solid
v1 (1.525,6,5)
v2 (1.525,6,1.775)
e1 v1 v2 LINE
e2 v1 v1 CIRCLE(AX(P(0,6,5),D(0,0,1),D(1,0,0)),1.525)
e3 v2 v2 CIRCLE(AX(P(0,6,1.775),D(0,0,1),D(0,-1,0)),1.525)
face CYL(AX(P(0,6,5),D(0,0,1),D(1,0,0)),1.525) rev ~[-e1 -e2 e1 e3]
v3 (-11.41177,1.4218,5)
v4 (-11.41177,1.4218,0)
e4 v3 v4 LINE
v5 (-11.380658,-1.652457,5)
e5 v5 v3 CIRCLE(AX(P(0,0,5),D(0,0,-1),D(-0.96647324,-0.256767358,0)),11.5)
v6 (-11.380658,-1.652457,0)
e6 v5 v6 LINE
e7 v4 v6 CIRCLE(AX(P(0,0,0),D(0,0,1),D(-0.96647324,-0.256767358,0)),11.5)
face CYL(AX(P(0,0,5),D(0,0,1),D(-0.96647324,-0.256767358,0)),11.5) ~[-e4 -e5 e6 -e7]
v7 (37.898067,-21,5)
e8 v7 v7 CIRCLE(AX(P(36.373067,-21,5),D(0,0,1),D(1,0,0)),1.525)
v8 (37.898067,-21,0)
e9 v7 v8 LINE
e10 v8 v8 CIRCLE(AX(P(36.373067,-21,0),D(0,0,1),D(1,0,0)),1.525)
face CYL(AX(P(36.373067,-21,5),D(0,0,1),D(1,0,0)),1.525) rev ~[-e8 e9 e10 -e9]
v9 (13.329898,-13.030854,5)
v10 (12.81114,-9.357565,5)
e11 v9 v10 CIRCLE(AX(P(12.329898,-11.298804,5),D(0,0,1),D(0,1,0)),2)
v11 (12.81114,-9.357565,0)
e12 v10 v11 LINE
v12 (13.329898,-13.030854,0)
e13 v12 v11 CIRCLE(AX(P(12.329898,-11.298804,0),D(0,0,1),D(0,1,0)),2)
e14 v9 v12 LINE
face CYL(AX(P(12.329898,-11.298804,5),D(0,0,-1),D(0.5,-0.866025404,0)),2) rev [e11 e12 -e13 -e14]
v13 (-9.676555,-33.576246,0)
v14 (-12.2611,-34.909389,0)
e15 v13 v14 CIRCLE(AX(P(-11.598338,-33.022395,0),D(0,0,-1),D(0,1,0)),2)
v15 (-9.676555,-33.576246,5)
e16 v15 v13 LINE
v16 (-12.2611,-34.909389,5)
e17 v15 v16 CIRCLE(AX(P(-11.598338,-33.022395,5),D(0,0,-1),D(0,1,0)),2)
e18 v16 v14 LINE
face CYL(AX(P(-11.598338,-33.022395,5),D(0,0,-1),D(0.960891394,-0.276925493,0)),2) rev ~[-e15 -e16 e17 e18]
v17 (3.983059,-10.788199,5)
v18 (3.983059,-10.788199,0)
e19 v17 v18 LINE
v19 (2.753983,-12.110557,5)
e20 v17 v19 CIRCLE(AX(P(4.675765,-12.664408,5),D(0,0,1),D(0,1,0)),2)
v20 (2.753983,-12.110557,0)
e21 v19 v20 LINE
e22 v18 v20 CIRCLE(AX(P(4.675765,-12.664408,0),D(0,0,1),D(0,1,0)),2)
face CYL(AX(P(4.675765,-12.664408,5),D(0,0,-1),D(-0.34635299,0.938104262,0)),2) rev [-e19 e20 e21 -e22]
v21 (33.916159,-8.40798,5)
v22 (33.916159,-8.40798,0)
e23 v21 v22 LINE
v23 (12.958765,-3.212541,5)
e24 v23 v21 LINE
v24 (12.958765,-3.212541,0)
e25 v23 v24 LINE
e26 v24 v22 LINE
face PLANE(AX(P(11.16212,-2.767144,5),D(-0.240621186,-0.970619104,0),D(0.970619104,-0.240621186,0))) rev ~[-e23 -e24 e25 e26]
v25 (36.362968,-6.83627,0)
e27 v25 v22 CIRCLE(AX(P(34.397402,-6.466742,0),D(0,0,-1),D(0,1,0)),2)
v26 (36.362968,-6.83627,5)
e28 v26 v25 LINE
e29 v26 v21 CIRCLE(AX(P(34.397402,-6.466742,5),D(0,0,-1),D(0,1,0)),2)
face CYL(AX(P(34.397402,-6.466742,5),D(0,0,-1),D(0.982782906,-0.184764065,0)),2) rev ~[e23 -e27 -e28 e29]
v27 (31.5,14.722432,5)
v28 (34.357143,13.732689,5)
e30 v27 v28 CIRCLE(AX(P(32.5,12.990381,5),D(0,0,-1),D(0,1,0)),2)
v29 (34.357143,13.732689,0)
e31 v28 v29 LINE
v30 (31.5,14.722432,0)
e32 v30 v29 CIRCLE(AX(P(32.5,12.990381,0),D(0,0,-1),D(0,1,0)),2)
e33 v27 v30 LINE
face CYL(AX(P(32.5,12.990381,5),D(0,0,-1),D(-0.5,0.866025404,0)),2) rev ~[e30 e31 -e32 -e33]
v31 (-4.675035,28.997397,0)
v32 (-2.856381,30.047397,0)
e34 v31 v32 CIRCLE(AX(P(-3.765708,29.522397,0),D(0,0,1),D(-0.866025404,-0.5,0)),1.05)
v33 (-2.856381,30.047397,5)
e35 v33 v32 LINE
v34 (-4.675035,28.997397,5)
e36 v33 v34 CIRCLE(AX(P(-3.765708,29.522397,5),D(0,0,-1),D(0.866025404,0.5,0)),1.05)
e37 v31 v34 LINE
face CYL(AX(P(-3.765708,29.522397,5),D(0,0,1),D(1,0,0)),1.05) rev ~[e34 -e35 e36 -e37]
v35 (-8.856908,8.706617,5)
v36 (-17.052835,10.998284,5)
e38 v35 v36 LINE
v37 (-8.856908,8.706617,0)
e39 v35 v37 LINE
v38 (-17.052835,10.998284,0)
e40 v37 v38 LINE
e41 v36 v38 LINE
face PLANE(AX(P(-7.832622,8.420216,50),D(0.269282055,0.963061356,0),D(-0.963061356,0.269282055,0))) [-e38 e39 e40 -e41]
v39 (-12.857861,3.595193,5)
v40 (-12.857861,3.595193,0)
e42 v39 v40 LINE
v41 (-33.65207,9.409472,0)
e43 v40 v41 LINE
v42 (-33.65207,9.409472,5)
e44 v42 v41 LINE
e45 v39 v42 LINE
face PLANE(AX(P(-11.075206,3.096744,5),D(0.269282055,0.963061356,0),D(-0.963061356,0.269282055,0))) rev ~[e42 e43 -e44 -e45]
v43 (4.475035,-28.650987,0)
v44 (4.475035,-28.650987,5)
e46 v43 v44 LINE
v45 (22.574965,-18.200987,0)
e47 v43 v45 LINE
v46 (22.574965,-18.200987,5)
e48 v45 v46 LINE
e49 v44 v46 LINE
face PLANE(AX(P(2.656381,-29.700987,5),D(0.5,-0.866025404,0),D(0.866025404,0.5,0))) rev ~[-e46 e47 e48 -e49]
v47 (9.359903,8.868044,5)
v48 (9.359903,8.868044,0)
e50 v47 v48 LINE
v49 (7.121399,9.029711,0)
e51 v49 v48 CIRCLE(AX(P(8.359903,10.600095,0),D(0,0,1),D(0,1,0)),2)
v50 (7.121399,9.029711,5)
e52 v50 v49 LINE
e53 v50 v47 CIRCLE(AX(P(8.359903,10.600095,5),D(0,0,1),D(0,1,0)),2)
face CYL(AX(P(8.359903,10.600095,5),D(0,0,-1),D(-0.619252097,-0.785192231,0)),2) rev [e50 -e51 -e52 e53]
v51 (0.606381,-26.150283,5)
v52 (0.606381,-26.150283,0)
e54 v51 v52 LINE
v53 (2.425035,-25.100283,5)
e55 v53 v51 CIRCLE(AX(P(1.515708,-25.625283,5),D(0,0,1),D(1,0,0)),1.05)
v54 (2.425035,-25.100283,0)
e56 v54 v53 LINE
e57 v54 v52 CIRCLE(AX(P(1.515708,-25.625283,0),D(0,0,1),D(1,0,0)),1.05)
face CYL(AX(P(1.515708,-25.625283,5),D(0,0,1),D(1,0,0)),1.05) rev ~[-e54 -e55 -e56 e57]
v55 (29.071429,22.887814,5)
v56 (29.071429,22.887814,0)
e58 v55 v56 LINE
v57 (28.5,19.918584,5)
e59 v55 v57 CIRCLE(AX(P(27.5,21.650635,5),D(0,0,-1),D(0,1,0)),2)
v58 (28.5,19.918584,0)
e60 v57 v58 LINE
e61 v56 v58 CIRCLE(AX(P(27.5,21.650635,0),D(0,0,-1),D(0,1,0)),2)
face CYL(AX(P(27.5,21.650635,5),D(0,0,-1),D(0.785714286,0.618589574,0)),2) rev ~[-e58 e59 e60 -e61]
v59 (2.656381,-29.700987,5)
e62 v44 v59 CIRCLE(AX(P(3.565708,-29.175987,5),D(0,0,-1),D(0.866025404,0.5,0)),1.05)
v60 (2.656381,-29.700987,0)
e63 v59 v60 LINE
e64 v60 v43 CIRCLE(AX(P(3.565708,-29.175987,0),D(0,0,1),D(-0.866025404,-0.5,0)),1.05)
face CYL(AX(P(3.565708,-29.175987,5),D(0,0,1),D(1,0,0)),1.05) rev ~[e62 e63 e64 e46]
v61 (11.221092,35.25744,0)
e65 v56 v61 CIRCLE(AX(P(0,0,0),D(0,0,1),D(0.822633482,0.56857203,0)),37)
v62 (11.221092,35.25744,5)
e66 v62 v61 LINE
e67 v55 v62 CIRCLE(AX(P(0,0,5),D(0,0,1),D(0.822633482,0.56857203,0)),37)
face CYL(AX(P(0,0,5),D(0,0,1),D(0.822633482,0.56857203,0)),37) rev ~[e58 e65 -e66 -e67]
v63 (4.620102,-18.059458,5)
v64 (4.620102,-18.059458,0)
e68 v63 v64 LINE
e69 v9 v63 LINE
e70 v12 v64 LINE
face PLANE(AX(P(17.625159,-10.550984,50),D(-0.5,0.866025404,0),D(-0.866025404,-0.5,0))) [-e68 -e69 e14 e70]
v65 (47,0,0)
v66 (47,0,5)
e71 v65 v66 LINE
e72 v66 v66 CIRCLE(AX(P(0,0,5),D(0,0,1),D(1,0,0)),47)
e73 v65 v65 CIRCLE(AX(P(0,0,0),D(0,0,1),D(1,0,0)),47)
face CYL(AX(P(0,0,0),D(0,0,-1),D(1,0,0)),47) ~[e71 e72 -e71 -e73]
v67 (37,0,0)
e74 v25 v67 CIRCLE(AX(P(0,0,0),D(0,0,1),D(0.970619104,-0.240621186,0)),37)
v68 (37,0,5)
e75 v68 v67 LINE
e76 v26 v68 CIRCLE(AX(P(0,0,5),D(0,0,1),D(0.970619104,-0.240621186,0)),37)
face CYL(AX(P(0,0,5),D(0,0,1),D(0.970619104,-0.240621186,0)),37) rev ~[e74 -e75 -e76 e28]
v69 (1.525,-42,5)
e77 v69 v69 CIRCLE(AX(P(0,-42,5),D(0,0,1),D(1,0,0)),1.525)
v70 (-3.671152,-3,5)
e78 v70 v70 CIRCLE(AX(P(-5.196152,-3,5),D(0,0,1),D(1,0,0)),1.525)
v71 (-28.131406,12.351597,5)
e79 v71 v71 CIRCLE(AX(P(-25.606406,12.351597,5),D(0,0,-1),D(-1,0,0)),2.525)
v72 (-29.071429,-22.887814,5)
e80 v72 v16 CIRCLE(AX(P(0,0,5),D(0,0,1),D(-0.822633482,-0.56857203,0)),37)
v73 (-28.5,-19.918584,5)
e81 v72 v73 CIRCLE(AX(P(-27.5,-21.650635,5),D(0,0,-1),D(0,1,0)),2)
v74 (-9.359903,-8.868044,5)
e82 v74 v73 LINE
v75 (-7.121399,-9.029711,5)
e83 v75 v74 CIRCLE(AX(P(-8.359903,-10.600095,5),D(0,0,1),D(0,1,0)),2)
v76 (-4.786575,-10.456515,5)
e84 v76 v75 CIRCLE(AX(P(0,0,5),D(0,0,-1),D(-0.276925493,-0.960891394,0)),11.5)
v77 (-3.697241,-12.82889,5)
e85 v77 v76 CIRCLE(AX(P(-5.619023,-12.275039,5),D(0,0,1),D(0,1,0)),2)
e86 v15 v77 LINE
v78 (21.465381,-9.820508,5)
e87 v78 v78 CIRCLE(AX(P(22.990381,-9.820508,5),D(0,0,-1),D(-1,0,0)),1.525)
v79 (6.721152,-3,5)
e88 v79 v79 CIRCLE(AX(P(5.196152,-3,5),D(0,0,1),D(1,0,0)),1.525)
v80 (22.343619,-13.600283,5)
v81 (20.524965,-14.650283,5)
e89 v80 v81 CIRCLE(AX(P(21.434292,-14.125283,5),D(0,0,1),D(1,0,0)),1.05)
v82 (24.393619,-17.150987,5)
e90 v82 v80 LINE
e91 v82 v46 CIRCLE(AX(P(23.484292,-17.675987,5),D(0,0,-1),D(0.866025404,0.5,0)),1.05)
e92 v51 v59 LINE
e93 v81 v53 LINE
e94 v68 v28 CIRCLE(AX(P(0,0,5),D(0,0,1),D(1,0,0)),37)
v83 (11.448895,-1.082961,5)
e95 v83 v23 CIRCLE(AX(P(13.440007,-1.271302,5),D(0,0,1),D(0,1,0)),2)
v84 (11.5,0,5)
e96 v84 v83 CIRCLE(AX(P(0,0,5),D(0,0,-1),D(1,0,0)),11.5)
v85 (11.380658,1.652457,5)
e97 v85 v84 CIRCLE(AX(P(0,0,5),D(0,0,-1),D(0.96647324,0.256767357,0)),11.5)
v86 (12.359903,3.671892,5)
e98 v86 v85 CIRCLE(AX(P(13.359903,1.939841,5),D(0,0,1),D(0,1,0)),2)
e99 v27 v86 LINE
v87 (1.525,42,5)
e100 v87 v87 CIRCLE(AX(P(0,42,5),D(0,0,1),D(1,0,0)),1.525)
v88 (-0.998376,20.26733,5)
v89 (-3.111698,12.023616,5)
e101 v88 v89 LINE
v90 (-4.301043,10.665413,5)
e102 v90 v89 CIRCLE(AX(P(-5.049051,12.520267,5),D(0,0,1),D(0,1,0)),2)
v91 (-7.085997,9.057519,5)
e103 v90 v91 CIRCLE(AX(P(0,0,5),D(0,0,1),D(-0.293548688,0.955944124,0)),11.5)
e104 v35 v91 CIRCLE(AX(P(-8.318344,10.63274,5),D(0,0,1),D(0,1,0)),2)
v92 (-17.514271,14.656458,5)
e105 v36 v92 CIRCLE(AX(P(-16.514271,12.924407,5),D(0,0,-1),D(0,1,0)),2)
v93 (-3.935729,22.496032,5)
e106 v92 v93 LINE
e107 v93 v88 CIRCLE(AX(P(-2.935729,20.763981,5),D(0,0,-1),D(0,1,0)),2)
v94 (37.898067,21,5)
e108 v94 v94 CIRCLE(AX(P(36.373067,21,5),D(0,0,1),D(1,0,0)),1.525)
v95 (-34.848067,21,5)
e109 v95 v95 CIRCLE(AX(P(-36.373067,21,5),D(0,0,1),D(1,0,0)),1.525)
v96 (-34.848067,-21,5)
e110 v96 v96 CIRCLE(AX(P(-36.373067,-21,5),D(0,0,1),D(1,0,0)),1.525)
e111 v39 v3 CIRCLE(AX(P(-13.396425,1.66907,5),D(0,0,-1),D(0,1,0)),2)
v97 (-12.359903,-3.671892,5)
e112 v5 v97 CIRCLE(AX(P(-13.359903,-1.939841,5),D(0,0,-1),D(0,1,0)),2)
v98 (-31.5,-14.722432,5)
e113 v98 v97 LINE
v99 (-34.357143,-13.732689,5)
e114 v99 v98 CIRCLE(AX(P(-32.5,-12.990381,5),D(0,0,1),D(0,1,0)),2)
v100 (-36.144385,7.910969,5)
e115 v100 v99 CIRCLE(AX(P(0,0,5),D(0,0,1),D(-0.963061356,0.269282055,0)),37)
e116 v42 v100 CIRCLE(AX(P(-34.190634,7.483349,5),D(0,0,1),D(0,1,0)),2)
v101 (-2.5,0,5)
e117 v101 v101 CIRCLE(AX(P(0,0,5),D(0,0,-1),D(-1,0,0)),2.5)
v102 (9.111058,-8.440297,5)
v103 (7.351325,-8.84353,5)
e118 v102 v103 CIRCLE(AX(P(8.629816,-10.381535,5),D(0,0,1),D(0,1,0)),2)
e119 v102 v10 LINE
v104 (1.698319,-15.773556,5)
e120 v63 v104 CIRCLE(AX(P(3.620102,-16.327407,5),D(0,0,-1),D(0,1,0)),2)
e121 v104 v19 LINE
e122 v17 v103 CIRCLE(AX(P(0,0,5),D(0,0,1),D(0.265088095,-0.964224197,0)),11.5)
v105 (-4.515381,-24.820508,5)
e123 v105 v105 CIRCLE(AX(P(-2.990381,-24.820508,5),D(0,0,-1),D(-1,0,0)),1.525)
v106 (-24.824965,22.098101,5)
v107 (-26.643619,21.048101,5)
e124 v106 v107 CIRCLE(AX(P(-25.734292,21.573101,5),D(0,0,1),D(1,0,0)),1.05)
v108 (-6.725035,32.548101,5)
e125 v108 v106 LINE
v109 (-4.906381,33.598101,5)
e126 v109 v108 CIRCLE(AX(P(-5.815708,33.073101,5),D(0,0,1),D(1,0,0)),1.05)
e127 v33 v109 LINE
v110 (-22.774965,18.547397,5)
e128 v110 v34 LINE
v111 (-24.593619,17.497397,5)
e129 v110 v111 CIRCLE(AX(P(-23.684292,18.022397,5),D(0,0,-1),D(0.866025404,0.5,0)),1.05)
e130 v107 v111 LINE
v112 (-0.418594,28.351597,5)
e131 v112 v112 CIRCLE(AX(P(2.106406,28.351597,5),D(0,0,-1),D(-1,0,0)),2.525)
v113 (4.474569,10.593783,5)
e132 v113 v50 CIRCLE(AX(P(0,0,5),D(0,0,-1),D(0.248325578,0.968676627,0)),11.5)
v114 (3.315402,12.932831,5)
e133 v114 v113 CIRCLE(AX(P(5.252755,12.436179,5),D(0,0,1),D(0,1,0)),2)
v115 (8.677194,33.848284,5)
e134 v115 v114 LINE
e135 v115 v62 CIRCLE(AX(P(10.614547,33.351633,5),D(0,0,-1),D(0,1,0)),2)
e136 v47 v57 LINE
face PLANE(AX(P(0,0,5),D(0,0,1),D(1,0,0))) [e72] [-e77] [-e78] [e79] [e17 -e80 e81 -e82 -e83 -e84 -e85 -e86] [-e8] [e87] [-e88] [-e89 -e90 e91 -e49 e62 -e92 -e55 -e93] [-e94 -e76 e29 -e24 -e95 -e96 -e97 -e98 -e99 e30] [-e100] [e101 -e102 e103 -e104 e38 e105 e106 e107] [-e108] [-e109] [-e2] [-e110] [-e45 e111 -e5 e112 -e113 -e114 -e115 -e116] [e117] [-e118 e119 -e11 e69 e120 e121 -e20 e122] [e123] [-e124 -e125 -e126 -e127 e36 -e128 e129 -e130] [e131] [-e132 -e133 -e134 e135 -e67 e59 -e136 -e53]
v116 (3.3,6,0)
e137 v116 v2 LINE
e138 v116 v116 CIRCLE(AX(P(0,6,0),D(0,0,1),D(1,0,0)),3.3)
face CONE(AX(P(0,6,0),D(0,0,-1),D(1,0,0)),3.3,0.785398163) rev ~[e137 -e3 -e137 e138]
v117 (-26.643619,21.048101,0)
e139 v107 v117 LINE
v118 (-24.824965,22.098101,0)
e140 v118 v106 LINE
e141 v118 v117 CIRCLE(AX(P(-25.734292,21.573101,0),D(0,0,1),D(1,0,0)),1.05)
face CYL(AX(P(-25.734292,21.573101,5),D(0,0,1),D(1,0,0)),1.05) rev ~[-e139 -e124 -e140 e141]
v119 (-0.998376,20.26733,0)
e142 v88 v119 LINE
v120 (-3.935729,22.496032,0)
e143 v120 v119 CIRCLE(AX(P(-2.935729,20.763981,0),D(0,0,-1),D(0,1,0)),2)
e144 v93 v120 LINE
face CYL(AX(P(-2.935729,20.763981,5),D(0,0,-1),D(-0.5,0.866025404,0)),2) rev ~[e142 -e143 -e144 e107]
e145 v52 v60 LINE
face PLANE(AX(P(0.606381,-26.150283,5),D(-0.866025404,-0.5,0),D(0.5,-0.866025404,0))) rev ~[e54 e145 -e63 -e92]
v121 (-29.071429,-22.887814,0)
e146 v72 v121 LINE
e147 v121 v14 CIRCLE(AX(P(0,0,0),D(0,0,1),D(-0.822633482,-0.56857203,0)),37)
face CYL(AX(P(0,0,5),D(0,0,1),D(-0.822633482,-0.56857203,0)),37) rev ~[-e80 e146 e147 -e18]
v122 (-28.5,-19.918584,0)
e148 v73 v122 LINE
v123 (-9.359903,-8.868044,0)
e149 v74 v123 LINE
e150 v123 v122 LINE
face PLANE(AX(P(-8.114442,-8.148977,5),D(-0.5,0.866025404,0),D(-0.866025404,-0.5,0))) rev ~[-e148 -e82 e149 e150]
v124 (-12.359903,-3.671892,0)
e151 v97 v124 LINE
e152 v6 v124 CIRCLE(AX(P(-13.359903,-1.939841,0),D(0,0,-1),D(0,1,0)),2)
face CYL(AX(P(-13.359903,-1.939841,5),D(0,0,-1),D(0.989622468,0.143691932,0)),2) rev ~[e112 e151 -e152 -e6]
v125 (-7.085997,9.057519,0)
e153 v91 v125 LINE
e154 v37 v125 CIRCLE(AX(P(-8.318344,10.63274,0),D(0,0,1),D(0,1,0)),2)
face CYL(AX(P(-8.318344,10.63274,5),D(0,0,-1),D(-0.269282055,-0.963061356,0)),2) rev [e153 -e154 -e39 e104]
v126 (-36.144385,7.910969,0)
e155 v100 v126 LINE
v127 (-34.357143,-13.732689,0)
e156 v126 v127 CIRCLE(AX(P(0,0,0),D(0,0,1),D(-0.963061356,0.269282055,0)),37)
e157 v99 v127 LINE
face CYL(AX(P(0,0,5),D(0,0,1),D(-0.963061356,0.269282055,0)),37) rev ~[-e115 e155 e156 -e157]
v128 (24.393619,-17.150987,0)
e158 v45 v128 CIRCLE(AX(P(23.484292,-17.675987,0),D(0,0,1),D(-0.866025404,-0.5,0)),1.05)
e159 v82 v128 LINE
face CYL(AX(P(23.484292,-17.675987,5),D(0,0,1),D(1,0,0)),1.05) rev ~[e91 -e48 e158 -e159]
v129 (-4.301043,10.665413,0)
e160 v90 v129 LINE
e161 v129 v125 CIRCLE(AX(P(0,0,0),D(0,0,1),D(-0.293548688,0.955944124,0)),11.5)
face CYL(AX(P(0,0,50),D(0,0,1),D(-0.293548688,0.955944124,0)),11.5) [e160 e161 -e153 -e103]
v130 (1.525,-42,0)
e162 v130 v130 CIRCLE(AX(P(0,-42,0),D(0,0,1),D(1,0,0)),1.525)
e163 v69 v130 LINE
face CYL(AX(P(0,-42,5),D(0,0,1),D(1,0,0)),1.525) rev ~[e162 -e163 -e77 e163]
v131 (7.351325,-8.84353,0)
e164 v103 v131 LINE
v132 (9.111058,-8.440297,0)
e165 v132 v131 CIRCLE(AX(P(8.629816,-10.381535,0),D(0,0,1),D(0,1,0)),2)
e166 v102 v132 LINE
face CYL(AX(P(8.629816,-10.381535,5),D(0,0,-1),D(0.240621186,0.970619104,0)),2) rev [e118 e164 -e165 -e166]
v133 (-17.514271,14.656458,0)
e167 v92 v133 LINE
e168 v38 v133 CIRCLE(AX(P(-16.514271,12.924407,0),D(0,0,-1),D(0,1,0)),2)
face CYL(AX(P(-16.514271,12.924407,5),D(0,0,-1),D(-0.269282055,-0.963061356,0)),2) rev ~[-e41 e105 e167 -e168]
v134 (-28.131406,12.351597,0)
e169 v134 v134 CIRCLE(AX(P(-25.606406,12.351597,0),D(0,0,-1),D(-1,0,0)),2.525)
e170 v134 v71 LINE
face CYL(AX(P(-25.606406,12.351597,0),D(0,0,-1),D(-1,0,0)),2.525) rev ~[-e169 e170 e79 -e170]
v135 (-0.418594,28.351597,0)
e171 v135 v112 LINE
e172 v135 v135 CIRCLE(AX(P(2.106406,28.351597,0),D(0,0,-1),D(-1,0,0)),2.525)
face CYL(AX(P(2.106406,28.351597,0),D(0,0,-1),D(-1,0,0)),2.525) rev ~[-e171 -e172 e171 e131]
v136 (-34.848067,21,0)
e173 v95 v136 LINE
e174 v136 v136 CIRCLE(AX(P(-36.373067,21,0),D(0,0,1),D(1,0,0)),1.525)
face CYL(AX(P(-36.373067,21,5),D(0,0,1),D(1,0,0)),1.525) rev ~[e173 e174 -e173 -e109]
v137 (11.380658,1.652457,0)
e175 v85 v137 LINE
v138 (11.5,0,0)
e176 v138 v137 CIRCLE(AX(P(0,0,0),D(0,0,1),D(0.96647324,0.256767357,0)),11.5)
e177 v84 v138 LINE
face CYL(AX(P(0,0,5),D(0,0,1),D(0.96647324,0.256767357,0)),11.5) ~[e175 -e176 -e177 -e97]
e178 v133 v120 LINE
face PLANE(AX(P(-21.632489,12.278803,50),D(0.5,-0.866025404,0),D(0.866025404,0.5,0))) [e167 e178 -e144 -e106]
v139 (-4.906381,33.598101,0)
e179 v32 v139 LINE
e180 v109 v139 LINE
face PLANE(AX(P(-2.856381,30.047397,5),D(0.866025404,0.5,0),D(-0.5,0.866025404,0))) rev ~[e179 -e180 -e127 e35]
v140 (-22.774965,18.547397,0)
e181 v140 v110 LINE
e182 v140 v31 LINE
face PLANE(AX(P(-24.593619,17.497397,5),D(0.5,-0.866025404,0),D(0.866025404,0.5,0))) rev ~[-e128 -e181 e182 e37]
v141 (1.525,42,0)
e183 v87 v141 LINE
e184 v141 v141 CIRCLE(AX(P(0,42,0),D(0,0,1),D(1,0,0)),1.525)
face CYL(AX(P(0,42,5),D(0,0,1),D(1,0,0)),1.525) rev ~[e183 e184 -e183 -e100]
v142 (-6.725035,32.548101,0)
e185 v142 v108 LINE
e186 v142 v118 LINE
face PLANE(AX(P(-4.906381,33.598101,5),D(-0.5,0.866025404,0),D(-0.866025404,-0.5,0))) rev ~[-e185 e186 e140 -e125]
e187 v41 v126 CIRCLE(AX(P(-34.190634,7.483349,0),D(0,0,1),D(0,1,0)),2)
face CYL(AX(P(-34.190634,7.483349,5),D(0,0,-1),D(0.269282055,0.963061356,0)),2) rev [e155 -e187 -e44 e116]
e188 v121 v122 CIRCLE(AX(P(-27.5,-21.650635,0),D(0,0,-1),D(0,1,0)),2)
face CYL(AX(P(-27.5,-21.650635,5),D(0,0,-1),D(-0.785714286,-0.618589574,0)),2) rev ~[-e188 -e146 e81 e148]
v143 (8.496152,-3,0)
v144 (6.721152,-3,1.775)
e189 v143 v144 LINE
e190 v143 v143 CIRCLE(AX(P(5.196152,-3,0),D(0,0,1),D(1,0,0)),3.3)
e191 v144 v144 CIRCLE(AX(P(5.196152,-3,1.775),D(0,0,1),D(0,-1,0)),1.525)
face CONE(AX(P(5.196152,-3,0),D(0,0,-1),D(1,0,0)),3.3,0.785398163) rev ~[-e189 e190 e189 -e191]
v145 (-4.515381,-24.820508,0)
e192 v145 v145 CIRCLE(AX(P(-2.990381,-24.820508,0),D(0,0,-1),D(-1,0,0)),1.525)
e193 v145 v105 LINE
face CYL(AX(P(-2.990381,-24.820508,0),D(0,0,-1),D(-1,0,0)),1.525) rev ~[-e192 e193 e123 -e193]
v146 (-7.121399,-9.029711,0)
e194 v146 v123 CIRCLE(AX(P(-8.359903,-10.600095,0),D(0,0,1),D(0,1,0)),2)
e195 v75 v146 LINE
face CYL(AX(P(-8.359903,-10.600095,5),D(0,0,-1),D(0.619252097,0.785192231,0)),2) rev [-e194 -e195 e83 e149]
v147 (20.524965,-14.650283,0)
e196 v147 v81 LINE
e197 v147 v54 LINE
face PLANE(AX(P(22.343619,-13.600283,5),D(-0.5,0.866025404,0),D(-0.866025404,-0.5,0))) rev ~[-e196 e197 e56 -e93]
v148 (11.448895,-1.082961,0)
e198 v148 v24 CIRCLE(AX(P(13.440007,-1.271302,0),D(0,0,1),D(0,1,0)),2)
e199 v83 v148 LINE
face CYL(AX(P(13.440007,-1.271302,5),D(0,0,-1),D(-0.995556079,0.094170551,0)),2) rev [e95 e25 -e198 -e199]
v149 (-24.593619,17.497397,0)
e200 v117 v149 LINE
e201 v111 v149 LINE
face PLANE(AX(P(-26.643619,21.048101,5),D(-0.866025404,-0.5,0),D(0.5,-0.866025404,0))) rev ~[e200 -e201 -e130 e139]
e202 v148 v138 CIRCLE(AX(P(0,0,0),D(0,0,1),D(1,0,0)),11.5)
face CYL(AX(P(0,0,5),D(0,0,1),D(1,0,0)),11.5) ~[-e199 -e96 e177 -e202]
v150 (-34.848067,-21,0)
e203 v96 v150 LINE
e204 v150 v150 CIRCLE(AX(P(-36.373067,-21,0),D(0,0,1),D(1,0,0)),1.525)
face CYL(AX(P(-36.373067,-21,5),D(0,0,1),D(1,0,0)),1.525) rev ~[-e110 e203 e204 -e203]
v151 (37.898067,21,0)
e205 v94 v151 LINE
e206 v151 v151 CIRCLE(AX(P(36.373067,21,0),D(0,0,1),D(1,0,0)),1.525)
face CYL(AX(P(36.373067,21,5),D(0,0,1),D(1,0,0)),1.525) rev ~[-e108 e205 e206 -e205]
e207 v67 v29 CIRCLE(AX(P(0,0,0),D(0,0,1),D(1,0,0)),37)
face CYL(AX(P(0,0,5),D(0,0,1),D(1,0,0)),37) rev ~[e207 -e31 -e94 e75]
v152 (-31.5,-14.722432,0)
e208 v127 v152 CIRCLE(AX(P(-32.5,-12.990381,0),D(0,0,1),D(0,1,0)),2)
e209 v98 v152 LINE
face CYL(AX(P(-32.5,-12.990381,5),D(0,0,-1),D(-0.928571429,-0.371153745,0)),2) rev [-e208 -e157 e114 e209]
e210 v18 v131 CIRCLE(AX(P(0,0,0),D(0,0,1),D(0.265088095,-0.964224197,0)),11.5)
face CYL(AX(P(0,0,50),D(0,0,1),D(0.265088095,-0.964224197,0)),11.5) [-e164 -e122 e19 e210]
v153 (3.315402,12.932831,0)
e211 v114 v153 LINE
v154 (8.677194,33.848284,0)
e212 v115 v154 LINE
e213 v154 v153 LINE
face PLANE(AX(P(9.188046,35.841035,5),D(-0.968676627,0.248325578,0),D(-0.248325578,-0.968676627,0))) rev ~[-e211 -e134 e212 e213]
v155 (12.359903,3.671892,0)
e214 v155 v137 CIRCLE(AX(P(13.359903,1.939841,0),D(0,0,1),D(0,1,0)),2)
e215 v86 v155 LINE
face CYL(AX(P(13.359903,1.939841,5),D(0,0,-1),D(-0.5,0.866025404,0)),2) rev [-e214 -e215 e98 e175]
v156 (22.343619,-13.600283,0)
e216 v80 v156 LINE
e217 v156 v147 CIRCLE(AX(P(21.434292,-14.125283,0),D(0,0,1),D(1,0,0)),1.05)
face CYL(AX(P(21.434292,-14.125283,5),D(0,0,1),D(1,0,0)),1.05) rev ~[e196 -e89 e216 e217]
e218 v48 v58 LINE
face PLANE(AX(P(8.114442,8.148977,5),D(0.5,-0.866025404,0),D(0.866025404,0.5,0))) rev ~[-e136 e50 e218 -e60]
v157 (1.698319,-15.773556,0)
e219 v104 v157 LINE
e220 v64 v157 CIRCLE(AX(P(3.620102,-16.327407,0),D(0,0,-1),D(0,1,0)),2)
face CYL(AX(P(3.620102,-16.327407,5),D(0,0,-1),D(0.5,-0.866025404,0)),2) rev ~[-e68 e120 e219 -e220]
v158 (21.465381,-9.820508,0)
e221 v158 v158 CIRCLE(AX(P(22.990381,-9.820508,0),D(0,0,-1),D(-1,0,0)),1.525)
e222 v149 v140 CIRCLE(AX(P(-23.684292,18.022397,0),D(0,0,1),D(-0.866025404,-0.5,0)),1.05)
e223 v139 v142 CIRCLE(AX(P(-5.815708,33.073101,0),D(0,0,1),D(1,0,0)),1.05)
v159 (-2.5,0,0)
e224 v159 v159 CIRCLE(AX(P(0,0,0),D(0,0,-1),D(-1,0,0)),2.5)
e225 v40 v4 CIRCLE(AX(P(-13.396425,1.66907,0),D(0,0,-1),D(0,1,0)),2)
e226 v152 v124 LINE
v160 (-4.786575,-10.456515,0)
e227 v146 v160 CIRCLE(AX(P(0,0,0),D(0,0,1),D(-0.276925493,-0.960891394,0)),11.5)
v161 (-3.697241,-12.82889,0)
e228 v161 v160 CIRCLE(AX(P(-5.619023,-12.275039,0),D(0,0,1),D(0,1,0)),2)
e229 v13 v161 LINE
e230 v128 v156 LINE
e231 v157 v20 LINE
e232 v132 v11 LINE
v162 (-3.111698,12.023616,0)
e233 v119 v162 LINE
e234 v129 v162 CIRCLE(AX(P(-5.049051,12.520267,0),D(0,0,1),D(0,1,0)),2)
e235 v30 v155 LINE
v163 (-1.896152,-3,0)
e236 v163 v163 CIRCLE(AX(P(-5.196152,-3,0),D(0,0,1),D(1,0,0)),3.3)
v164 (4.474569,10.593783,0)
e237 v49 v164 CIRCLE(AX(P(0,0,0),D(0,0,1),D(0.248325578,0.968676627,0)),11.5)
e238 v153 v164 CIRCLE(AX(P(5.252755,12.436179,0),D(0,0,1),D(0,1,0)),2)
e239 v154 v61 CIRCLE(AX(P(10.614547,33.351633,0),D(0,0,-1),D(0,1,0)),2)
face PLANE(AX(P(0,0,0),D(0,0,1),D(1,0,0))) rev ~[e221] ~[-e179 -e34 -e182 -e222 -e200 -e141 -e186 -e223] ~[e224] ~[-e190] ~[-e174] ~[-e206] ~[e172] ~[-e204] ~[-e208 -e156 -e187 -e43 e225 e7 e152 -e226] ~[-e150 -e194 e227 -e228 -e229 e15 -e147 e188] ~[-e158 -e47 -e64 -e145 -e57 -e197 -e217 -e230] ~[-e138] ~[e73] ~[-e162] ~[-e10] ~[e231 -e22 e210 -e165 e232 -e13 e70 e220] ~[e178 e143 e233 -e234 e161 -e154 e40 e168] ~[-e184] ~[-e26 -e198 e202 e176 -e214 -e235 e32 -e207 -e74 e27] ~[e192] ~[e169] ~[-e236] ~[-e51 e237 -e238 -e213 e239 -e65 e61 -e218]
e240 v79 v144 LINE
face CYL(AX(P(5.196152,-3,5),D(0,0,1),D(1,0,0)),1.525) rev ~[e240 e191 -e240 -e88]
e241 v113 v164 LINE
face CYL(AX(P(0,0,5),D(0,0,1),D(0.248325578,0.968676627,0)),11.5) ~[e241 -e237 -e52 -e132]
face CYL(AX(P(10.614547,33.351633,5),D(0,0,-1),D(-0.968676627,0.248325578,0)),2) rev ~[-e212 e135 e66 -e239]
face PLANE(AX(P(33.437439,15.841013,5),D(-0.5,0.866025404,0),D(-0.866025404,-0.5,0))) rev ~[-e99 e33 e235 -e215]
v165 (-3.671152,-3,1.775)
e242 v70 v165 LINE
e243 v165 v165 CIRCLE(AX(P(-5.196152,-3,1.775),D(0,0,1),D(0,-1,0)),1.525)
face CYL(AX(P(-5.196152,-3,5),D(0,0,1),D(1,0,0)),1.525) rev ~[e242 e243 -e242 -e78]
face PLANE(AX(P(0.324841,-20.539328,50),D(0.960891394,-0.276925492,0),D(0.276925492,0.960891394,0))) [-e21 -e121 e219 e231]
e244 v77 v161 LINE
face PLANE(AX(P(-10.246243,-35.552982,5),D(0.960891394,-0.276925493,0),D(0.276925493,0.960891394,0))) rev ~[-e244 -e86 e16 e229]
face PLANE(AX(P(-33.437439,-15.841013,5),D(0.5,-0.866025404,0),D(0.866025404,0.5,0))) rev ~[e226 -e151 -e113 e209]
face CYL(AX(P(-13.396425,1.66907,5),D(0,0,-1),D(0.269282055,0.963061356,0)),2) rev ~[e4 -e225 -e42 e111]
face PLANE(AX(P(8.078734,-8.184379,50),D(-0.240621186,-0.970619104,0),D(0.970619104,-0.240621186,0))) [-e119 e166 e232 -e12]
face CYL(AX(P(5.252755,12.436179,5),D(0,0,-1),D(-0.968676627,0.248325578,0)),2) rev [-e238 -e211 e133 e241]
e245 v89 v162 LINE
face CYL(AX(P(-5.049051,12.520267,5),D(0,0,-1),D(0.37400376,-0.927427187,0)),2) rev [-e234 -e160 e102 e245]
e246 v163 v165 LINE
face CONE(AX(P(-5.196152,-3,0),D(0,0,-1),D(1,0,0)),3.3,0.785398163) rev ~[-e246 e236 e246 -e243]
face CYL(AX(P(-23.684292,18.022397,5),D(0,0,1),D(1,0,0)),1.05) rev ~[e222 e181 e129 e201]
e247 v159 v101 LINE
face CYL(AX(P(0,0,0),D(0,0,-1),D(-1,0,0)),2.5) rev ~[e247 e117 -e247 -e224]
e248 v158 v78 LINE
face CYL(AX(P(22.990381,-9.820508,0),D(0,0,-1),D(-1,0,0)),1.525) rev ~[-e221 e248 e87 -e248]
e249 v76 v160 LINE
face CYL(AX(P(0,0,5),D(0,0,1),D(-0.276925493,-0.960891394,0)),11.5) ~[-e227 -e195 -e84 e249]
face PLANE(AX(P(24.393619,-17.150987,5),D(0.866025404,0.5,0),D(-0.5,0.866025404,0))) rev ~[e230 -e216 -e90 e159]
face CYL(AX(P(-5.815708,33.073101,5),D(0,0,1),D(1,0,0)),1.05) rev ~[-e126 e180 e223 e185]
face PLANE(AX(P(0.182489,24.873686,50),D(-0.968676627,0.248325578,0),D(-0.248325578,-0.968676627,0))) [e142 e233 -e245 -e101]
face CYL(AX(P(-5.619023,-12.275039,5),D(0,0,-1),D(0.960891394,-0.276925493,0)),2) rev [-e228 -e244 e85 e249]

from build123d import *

# Parameters (mm, degrees)
SKETCH_1_R                   = 47
EXTRUDE_1_DEPTH              = 5
SKETCH_2_R                   = 1.525
CUT_EXTRUDE_1_DEPTH          = 25
CUT_EXTRUDE_3_DEPTH          = 10
SKETCH_5_R                   = 1.05
CUT_EXTRUDE_4_DEPTH          = 40
CUT_EXTRUDE_7_DEPTH          = 10
SKETCH_8_R                   = 1.05
CUT_EXTRUDE_8_DEPTH          = 10
SKETCH_11_R                  = 1.525
CUT_EXTRUDE_9_DEPTH          = 10
SKETCH_12_R                  = 1.525
SKETCH_12_R_2                = 2.525
CUT_EXTRUDE_10_DEPTH         = 6.5
SKETCH_13_R                  = 2.5
CUT_EXTRUDE_11_DEPTH         = 50
CUT_EXTRUDE_13_DEPTH         = 50
HOLE_WIZARD_M3_1_D           = 3
HOLE_WIZARD_M3_1_CSINK_D     = 6.6
HOLE_WIZARD_M3_1_CSINK_ANGLE = 90
CUT_EXTRUDE_START            = -50
CUT_EXTRUDE_14_DEPTH         = 50
CUT_EXTRUDE_15_DEPTH         = 50
FILLET_1_R                   = 2


with BuildPart() as part:
    # 草图1 → 凸台-拉伸1 (new body)
    with BuildSketch(Plane.XY):
        Circle(SKETCH_1_R)
    extrude(amount=EXTRUDE_1_DEPTH)

    # 草图2 → 切除-拉伸1 (cut)
    with BuildSketch(Plane.XY.offset(5)):
        with Locations((0, 42)):
            Circle(SKETCH_2_R)
        with Locations((36.373066959, 21)):
            Circle(SKETCH_2_R)
        with Locations((36.373066959, -21)):
            Circle(SKETCH_2_R)
        with Locations((0, -42)):
            Circle(SKETCH_2_R)
        with Locations((-36.373066959, -21)):
            Circle(SKETCH_2_R)
        with Locations((-36.373066959, 21)):
            Circle(SKETCH_2_R)
    extrude(amount=-CUT_EXTRUDE_1_DEPTH, mode=Mode.SUBTRACT)

    # 草图4 → 切除-拉伸3 (cut)
    with BuildSketch(Plane.XY.offset(5)):
        Polygon((22.343618817, -13.600283017), (0.606381183, -26.150283017), (2.656381183, -29.700987172), (24.393618817, -17.150987172), align=None)
    extrude(amount=-CUT_EXTRUDE_3_DEPTH, mode=Mode.SUBTRACT)

    # 草图5 → 切除-拉伸4 (cut)
    with BuildSketch(Plane.XY.offset(5)):
        with Locations((21.434292144, -14.125283017)):
            Circle(SKETCH_5_R)
        with Locations((23.484292144, -17.675987172)):
            Circle(SKETCH_5_R)
        with Locations((1.515707856, -25.625283017)):
            Circle(SKETCH_5_R)
        with Locations((3.565707856, -29.175987172)):
            Circle(SKETCH_5_R)
    extrude(amount=-CUT_EXTRUDE_4_DEPTH, mode=Mode.SUBTRACT)

    # 草图7 → 切除-拉伸7 (cut)
    with BuildSketch(Plane.XY.offset(5)):
        Polygon((-4.906381183, 33.598101489), (-26.643618817, 21.048101489), (-24.593618817, 17.497397334), (-2.856381183, 30.047397334), align=None)
    extrude(amount=-CUT_EXTRUDE_7_DEPTH, mode=Mode.SUBTRACT)

    # 草图8 → 切除-拉伸8 (cut)
    with BuildSketch(Plane.XY.offset(5)):
        with Locations((-23.684292144, 18.022397334)):
            Circle(SKETCH_8_R)
        with Locations((-25.734292144, 21.573101489)):
            Circle(SKETCH_8_R)
        with Locations((-5.815707856, 33.073101489)):
            Circle(SKETCH_8_R)
        with Locations((-3.765707856, 29.522397334)):
            Circle(SKETCH_8_R)
    extrude(amount=-CUT_EXTRUDE_8_DEPTH, mode=Mode.SUBTRACT)

    # 草图11 → 切除-拉伸9 (cut)
    with BuildSketch(Plane.XY.offset(5)):
        with Locations((0, 6)):
            Circle(SKETCH_11_R)
        with Locations((5.196152423, -3)):
            Circle(SKETCH_11_R)
        with Locations((-5.196152423, -3)):
            Circle(SKETCH_11_R)
    extrude(amount=-CUT_EXTRUDE_9_DEPTH, mode=Mode.SUBTRACT)

    # 草图12 → 切除-拉伸10 (cut)
    with BuildSketch(Plane(origin=(0, 0, 0), x_dir=(-1, 0, 0), z_dir=(0, 0, -1))):
        with Locations((2.990381057, -24.820508076)):
            Circle(SKETCH_12_R)
        with Locations((-22.990381057, -9.820508076)):
            Circle(SKETCH_12_R)
        with Locations((-2.106406461, 28.351596989)):
            Circle(SKETCH_12_R_2)
        with Locations((25.606406461, 12.351596989)):
            Circle(SKETCH_12_R_2)
    extrude(amount=-CUT_EXTRUDE_10_DEPTH, mode=Mode.SUBTRACT)

    # 草图13 → 切除-拉伸11 (cut)
    with BuildSketch(Plane(origin=(0, 0, 0), x_dir=(-1, 0, 0), z_dir=(0, 0, -1))):
        Circle(SKETCH_13_R)
    extrude(amount=-CUT_EXTRUDE_11_DEPTH, mode=Mode.SUBTRACT)

    # 草图16 → 切除-拉伸13 (cut)
    with BuildSketch(Plane.XY.offset(5)):
        with BuildLine():
            Line((33.437438845, 15.841012703), (11.114442262, 2.952824616))
            ThreePointArc((11.114442262, 2.952824616), (11.40320319, 1.488944927), (11.5, 0))
            ThreePointArc((11.5, 0), (11.415217398, -1.393847822), (11.162119696, -2.767143635))
            Line((11.162119696, -2.767143635), (35.912906847, -8.90298387))
            ThreePointArc((35.912906847, -8.90298387), (36.727221195, -4.484553861), (37, 0))
            ThreePointArc((37, 0), (36.098374183, 8.11833612), (33.437438845, 15.841012703))
        make_face()
        with BuildLine():
            Line((9.18804638, 35.841035193), (2.855744145, 11.139781209))
            ThreePointArc((2.855744145, 11.139781209), (5.685285819, 9.996375601), (8.114442262, 8.148977039))
            Line((8.114442262, 8.148977039), (30.437438845, 21.037165126))
            ThreePointArc((30.437438845, 21.037165126), (21.150257967, 30.358962234), (9.18804638, 35.841035193))
        make_face()
        with BuildLine():
            ThreePointArc((-11.114442262, -2.952824616), (-11.499758126, 0.074585853), (-11.075205592, 3.096743628))
            Line((-11.075205592, 3.096743628), (-35.633270165, 9.96343602))
            ThreePointArc((-35.633270165, 9.96343602), (-36.866761511, -3.137179579), (-33.437438845, -15.841012703))
            Line((-33.437438845, -15.841012703), (-11.114442262, -2.952824616))
        make_face()
        with BuildLine():
            Line((-10.246243223, -35.552981588), (-3.184643164, -11.050251034))
            ThreePointArc((-3.184643164, -11.050251034), (-5.832810691, -9.911020101), (-8.114442262, -8.148977039))
            Line((-8.114442262, -8.148977039), (-30.437438845, -21.037165126))
            ThreePointArc((-30.437438845, -21.037165126), (-21.597863981, -30.042174879), (-10.246243223, -35.552981588))
        make_face()
    extrude(amount=-CUT_EXTRUDE_13_DEPTH, mode=Mode.SUBTRACT)

    # M3 十字槽沉头木螺钉的锥形沉头孔1 (through all)
    with Locations(Plane(origin=(0, 0, 0), x_dir=(-1, 0, 0), z_dir=(0, 0, -1))):
        with Locations((5.196152423, -3), (-5.196152423, -3), (0, 6)):
            CounterSinkHole(HOLE_WIZARD_M3_1_D / 2, HOLE_WIZARD_M3_1_CSINK_D / 2, counter_sink_angle=HOLE_WIZARD_M3_1_CSINK_ANGLE)

    # 草图19 → 切除-拉伸14 (cut)
    with BuildSketch(Plane(origin=(0, 0, 0), x_dir=(-1, 0, 0), z_dir=(0, 0, -1)).offset(CUT_EXTRUDE_START)):
        with BuildLine():
            Line((21.632488727, 12.278803359), (-0.182488727, 24.873686464))
            Line((-0.182488727, 24.873686464), (3.37580992, 10.993357421))
            ThreePointArc((3.37580992, 10.993357421), (5.75, 9.959292144), (7.832621839, 8.420215859))
            Line((7.832621839, 8.420215859), (21.632488727, 12.278803359))
        make_face()
    extrude(amount=CUT_EXTRUDE_14_DEPTH, mode=Mode.SUBTRACT)

    # 草图20 → 切除-拉伸15 (cut)
    with BuildSketch(Plane(origin=(0, 0, 0), x_dir=(-1, 0, 0), z_dir=(0, 0, -1)).offset(CUT_EXTRUDE_START)):
        with BuildLine():
            Line((-0.324840576, -20.53932787), (-3.0485131, -11.088578262))
            ThreePointArc((-3.0485131, -11.088578262), (-5.75, -9.959292144), (-8.078733917, -8.18437892))
            Line((-8.078733917, -8.18437892), (-17.625159424, -10.550984126))
            Line((-17.625159424, -10.550984126), (-0.324840576, -20.53932787))
        make_face()
    extrude(amount=CUT_EXTRUDE_15_DEPTH, mode=Mode.SUBTRACT)

    # 圆角1
    fillet_1_edges = [part.edges().sort_by_distance(p)[0] for p in [
        (8.114442262, 8.148977039, 2.5),
        (2.855744145, 11.139781209, 2.5),
        (9.18804638, 35.841035193, 2.5),
        (30.437438845, 21.037165126, 2.5),
        (-11.075205592, 3.096743628, 2.5),
        (-11.114442262, -2.952824616, 2.5),
        (-33.437438845, -15.841012703, 2.5),
        (-35.633270165, 9.96343602, 2.5),
        (-8.114442262, -8.148977039, 2.5),
        (-3.184643164, -11.050251034, 2.5),
        (-10.246243223, -35.552981588, 2.5),
        (-30.437438845, -21.037165126, 2.5),
        (11.162119696, -2.767143635, 2.5),
        (11.114442262, 2.952824616, 2.5),
        (33.437438845, 15.841012703, 2.5),
        (35.912906847, -8.90298387, 2.5),
        (-7.832621839, 8.420215859, 2.5),
        (-3.37580992, 10.993357421, 2.5),
        (0.182488727, 24.873686464, 2.5),
        (-21.632488727, 12.278803359, 2.5),
        (8.078733917, -8.18437892, 2.5),
        (3.0485131, -11.088578262, 2.5),
        (0.324840576, -20.53932787, 2.5),
        (17.625159424, -10.550984126, 2.5),
    ]]
    fillet(fillet_1_edges, radius=FILLET_1_R)


solid = part.part
